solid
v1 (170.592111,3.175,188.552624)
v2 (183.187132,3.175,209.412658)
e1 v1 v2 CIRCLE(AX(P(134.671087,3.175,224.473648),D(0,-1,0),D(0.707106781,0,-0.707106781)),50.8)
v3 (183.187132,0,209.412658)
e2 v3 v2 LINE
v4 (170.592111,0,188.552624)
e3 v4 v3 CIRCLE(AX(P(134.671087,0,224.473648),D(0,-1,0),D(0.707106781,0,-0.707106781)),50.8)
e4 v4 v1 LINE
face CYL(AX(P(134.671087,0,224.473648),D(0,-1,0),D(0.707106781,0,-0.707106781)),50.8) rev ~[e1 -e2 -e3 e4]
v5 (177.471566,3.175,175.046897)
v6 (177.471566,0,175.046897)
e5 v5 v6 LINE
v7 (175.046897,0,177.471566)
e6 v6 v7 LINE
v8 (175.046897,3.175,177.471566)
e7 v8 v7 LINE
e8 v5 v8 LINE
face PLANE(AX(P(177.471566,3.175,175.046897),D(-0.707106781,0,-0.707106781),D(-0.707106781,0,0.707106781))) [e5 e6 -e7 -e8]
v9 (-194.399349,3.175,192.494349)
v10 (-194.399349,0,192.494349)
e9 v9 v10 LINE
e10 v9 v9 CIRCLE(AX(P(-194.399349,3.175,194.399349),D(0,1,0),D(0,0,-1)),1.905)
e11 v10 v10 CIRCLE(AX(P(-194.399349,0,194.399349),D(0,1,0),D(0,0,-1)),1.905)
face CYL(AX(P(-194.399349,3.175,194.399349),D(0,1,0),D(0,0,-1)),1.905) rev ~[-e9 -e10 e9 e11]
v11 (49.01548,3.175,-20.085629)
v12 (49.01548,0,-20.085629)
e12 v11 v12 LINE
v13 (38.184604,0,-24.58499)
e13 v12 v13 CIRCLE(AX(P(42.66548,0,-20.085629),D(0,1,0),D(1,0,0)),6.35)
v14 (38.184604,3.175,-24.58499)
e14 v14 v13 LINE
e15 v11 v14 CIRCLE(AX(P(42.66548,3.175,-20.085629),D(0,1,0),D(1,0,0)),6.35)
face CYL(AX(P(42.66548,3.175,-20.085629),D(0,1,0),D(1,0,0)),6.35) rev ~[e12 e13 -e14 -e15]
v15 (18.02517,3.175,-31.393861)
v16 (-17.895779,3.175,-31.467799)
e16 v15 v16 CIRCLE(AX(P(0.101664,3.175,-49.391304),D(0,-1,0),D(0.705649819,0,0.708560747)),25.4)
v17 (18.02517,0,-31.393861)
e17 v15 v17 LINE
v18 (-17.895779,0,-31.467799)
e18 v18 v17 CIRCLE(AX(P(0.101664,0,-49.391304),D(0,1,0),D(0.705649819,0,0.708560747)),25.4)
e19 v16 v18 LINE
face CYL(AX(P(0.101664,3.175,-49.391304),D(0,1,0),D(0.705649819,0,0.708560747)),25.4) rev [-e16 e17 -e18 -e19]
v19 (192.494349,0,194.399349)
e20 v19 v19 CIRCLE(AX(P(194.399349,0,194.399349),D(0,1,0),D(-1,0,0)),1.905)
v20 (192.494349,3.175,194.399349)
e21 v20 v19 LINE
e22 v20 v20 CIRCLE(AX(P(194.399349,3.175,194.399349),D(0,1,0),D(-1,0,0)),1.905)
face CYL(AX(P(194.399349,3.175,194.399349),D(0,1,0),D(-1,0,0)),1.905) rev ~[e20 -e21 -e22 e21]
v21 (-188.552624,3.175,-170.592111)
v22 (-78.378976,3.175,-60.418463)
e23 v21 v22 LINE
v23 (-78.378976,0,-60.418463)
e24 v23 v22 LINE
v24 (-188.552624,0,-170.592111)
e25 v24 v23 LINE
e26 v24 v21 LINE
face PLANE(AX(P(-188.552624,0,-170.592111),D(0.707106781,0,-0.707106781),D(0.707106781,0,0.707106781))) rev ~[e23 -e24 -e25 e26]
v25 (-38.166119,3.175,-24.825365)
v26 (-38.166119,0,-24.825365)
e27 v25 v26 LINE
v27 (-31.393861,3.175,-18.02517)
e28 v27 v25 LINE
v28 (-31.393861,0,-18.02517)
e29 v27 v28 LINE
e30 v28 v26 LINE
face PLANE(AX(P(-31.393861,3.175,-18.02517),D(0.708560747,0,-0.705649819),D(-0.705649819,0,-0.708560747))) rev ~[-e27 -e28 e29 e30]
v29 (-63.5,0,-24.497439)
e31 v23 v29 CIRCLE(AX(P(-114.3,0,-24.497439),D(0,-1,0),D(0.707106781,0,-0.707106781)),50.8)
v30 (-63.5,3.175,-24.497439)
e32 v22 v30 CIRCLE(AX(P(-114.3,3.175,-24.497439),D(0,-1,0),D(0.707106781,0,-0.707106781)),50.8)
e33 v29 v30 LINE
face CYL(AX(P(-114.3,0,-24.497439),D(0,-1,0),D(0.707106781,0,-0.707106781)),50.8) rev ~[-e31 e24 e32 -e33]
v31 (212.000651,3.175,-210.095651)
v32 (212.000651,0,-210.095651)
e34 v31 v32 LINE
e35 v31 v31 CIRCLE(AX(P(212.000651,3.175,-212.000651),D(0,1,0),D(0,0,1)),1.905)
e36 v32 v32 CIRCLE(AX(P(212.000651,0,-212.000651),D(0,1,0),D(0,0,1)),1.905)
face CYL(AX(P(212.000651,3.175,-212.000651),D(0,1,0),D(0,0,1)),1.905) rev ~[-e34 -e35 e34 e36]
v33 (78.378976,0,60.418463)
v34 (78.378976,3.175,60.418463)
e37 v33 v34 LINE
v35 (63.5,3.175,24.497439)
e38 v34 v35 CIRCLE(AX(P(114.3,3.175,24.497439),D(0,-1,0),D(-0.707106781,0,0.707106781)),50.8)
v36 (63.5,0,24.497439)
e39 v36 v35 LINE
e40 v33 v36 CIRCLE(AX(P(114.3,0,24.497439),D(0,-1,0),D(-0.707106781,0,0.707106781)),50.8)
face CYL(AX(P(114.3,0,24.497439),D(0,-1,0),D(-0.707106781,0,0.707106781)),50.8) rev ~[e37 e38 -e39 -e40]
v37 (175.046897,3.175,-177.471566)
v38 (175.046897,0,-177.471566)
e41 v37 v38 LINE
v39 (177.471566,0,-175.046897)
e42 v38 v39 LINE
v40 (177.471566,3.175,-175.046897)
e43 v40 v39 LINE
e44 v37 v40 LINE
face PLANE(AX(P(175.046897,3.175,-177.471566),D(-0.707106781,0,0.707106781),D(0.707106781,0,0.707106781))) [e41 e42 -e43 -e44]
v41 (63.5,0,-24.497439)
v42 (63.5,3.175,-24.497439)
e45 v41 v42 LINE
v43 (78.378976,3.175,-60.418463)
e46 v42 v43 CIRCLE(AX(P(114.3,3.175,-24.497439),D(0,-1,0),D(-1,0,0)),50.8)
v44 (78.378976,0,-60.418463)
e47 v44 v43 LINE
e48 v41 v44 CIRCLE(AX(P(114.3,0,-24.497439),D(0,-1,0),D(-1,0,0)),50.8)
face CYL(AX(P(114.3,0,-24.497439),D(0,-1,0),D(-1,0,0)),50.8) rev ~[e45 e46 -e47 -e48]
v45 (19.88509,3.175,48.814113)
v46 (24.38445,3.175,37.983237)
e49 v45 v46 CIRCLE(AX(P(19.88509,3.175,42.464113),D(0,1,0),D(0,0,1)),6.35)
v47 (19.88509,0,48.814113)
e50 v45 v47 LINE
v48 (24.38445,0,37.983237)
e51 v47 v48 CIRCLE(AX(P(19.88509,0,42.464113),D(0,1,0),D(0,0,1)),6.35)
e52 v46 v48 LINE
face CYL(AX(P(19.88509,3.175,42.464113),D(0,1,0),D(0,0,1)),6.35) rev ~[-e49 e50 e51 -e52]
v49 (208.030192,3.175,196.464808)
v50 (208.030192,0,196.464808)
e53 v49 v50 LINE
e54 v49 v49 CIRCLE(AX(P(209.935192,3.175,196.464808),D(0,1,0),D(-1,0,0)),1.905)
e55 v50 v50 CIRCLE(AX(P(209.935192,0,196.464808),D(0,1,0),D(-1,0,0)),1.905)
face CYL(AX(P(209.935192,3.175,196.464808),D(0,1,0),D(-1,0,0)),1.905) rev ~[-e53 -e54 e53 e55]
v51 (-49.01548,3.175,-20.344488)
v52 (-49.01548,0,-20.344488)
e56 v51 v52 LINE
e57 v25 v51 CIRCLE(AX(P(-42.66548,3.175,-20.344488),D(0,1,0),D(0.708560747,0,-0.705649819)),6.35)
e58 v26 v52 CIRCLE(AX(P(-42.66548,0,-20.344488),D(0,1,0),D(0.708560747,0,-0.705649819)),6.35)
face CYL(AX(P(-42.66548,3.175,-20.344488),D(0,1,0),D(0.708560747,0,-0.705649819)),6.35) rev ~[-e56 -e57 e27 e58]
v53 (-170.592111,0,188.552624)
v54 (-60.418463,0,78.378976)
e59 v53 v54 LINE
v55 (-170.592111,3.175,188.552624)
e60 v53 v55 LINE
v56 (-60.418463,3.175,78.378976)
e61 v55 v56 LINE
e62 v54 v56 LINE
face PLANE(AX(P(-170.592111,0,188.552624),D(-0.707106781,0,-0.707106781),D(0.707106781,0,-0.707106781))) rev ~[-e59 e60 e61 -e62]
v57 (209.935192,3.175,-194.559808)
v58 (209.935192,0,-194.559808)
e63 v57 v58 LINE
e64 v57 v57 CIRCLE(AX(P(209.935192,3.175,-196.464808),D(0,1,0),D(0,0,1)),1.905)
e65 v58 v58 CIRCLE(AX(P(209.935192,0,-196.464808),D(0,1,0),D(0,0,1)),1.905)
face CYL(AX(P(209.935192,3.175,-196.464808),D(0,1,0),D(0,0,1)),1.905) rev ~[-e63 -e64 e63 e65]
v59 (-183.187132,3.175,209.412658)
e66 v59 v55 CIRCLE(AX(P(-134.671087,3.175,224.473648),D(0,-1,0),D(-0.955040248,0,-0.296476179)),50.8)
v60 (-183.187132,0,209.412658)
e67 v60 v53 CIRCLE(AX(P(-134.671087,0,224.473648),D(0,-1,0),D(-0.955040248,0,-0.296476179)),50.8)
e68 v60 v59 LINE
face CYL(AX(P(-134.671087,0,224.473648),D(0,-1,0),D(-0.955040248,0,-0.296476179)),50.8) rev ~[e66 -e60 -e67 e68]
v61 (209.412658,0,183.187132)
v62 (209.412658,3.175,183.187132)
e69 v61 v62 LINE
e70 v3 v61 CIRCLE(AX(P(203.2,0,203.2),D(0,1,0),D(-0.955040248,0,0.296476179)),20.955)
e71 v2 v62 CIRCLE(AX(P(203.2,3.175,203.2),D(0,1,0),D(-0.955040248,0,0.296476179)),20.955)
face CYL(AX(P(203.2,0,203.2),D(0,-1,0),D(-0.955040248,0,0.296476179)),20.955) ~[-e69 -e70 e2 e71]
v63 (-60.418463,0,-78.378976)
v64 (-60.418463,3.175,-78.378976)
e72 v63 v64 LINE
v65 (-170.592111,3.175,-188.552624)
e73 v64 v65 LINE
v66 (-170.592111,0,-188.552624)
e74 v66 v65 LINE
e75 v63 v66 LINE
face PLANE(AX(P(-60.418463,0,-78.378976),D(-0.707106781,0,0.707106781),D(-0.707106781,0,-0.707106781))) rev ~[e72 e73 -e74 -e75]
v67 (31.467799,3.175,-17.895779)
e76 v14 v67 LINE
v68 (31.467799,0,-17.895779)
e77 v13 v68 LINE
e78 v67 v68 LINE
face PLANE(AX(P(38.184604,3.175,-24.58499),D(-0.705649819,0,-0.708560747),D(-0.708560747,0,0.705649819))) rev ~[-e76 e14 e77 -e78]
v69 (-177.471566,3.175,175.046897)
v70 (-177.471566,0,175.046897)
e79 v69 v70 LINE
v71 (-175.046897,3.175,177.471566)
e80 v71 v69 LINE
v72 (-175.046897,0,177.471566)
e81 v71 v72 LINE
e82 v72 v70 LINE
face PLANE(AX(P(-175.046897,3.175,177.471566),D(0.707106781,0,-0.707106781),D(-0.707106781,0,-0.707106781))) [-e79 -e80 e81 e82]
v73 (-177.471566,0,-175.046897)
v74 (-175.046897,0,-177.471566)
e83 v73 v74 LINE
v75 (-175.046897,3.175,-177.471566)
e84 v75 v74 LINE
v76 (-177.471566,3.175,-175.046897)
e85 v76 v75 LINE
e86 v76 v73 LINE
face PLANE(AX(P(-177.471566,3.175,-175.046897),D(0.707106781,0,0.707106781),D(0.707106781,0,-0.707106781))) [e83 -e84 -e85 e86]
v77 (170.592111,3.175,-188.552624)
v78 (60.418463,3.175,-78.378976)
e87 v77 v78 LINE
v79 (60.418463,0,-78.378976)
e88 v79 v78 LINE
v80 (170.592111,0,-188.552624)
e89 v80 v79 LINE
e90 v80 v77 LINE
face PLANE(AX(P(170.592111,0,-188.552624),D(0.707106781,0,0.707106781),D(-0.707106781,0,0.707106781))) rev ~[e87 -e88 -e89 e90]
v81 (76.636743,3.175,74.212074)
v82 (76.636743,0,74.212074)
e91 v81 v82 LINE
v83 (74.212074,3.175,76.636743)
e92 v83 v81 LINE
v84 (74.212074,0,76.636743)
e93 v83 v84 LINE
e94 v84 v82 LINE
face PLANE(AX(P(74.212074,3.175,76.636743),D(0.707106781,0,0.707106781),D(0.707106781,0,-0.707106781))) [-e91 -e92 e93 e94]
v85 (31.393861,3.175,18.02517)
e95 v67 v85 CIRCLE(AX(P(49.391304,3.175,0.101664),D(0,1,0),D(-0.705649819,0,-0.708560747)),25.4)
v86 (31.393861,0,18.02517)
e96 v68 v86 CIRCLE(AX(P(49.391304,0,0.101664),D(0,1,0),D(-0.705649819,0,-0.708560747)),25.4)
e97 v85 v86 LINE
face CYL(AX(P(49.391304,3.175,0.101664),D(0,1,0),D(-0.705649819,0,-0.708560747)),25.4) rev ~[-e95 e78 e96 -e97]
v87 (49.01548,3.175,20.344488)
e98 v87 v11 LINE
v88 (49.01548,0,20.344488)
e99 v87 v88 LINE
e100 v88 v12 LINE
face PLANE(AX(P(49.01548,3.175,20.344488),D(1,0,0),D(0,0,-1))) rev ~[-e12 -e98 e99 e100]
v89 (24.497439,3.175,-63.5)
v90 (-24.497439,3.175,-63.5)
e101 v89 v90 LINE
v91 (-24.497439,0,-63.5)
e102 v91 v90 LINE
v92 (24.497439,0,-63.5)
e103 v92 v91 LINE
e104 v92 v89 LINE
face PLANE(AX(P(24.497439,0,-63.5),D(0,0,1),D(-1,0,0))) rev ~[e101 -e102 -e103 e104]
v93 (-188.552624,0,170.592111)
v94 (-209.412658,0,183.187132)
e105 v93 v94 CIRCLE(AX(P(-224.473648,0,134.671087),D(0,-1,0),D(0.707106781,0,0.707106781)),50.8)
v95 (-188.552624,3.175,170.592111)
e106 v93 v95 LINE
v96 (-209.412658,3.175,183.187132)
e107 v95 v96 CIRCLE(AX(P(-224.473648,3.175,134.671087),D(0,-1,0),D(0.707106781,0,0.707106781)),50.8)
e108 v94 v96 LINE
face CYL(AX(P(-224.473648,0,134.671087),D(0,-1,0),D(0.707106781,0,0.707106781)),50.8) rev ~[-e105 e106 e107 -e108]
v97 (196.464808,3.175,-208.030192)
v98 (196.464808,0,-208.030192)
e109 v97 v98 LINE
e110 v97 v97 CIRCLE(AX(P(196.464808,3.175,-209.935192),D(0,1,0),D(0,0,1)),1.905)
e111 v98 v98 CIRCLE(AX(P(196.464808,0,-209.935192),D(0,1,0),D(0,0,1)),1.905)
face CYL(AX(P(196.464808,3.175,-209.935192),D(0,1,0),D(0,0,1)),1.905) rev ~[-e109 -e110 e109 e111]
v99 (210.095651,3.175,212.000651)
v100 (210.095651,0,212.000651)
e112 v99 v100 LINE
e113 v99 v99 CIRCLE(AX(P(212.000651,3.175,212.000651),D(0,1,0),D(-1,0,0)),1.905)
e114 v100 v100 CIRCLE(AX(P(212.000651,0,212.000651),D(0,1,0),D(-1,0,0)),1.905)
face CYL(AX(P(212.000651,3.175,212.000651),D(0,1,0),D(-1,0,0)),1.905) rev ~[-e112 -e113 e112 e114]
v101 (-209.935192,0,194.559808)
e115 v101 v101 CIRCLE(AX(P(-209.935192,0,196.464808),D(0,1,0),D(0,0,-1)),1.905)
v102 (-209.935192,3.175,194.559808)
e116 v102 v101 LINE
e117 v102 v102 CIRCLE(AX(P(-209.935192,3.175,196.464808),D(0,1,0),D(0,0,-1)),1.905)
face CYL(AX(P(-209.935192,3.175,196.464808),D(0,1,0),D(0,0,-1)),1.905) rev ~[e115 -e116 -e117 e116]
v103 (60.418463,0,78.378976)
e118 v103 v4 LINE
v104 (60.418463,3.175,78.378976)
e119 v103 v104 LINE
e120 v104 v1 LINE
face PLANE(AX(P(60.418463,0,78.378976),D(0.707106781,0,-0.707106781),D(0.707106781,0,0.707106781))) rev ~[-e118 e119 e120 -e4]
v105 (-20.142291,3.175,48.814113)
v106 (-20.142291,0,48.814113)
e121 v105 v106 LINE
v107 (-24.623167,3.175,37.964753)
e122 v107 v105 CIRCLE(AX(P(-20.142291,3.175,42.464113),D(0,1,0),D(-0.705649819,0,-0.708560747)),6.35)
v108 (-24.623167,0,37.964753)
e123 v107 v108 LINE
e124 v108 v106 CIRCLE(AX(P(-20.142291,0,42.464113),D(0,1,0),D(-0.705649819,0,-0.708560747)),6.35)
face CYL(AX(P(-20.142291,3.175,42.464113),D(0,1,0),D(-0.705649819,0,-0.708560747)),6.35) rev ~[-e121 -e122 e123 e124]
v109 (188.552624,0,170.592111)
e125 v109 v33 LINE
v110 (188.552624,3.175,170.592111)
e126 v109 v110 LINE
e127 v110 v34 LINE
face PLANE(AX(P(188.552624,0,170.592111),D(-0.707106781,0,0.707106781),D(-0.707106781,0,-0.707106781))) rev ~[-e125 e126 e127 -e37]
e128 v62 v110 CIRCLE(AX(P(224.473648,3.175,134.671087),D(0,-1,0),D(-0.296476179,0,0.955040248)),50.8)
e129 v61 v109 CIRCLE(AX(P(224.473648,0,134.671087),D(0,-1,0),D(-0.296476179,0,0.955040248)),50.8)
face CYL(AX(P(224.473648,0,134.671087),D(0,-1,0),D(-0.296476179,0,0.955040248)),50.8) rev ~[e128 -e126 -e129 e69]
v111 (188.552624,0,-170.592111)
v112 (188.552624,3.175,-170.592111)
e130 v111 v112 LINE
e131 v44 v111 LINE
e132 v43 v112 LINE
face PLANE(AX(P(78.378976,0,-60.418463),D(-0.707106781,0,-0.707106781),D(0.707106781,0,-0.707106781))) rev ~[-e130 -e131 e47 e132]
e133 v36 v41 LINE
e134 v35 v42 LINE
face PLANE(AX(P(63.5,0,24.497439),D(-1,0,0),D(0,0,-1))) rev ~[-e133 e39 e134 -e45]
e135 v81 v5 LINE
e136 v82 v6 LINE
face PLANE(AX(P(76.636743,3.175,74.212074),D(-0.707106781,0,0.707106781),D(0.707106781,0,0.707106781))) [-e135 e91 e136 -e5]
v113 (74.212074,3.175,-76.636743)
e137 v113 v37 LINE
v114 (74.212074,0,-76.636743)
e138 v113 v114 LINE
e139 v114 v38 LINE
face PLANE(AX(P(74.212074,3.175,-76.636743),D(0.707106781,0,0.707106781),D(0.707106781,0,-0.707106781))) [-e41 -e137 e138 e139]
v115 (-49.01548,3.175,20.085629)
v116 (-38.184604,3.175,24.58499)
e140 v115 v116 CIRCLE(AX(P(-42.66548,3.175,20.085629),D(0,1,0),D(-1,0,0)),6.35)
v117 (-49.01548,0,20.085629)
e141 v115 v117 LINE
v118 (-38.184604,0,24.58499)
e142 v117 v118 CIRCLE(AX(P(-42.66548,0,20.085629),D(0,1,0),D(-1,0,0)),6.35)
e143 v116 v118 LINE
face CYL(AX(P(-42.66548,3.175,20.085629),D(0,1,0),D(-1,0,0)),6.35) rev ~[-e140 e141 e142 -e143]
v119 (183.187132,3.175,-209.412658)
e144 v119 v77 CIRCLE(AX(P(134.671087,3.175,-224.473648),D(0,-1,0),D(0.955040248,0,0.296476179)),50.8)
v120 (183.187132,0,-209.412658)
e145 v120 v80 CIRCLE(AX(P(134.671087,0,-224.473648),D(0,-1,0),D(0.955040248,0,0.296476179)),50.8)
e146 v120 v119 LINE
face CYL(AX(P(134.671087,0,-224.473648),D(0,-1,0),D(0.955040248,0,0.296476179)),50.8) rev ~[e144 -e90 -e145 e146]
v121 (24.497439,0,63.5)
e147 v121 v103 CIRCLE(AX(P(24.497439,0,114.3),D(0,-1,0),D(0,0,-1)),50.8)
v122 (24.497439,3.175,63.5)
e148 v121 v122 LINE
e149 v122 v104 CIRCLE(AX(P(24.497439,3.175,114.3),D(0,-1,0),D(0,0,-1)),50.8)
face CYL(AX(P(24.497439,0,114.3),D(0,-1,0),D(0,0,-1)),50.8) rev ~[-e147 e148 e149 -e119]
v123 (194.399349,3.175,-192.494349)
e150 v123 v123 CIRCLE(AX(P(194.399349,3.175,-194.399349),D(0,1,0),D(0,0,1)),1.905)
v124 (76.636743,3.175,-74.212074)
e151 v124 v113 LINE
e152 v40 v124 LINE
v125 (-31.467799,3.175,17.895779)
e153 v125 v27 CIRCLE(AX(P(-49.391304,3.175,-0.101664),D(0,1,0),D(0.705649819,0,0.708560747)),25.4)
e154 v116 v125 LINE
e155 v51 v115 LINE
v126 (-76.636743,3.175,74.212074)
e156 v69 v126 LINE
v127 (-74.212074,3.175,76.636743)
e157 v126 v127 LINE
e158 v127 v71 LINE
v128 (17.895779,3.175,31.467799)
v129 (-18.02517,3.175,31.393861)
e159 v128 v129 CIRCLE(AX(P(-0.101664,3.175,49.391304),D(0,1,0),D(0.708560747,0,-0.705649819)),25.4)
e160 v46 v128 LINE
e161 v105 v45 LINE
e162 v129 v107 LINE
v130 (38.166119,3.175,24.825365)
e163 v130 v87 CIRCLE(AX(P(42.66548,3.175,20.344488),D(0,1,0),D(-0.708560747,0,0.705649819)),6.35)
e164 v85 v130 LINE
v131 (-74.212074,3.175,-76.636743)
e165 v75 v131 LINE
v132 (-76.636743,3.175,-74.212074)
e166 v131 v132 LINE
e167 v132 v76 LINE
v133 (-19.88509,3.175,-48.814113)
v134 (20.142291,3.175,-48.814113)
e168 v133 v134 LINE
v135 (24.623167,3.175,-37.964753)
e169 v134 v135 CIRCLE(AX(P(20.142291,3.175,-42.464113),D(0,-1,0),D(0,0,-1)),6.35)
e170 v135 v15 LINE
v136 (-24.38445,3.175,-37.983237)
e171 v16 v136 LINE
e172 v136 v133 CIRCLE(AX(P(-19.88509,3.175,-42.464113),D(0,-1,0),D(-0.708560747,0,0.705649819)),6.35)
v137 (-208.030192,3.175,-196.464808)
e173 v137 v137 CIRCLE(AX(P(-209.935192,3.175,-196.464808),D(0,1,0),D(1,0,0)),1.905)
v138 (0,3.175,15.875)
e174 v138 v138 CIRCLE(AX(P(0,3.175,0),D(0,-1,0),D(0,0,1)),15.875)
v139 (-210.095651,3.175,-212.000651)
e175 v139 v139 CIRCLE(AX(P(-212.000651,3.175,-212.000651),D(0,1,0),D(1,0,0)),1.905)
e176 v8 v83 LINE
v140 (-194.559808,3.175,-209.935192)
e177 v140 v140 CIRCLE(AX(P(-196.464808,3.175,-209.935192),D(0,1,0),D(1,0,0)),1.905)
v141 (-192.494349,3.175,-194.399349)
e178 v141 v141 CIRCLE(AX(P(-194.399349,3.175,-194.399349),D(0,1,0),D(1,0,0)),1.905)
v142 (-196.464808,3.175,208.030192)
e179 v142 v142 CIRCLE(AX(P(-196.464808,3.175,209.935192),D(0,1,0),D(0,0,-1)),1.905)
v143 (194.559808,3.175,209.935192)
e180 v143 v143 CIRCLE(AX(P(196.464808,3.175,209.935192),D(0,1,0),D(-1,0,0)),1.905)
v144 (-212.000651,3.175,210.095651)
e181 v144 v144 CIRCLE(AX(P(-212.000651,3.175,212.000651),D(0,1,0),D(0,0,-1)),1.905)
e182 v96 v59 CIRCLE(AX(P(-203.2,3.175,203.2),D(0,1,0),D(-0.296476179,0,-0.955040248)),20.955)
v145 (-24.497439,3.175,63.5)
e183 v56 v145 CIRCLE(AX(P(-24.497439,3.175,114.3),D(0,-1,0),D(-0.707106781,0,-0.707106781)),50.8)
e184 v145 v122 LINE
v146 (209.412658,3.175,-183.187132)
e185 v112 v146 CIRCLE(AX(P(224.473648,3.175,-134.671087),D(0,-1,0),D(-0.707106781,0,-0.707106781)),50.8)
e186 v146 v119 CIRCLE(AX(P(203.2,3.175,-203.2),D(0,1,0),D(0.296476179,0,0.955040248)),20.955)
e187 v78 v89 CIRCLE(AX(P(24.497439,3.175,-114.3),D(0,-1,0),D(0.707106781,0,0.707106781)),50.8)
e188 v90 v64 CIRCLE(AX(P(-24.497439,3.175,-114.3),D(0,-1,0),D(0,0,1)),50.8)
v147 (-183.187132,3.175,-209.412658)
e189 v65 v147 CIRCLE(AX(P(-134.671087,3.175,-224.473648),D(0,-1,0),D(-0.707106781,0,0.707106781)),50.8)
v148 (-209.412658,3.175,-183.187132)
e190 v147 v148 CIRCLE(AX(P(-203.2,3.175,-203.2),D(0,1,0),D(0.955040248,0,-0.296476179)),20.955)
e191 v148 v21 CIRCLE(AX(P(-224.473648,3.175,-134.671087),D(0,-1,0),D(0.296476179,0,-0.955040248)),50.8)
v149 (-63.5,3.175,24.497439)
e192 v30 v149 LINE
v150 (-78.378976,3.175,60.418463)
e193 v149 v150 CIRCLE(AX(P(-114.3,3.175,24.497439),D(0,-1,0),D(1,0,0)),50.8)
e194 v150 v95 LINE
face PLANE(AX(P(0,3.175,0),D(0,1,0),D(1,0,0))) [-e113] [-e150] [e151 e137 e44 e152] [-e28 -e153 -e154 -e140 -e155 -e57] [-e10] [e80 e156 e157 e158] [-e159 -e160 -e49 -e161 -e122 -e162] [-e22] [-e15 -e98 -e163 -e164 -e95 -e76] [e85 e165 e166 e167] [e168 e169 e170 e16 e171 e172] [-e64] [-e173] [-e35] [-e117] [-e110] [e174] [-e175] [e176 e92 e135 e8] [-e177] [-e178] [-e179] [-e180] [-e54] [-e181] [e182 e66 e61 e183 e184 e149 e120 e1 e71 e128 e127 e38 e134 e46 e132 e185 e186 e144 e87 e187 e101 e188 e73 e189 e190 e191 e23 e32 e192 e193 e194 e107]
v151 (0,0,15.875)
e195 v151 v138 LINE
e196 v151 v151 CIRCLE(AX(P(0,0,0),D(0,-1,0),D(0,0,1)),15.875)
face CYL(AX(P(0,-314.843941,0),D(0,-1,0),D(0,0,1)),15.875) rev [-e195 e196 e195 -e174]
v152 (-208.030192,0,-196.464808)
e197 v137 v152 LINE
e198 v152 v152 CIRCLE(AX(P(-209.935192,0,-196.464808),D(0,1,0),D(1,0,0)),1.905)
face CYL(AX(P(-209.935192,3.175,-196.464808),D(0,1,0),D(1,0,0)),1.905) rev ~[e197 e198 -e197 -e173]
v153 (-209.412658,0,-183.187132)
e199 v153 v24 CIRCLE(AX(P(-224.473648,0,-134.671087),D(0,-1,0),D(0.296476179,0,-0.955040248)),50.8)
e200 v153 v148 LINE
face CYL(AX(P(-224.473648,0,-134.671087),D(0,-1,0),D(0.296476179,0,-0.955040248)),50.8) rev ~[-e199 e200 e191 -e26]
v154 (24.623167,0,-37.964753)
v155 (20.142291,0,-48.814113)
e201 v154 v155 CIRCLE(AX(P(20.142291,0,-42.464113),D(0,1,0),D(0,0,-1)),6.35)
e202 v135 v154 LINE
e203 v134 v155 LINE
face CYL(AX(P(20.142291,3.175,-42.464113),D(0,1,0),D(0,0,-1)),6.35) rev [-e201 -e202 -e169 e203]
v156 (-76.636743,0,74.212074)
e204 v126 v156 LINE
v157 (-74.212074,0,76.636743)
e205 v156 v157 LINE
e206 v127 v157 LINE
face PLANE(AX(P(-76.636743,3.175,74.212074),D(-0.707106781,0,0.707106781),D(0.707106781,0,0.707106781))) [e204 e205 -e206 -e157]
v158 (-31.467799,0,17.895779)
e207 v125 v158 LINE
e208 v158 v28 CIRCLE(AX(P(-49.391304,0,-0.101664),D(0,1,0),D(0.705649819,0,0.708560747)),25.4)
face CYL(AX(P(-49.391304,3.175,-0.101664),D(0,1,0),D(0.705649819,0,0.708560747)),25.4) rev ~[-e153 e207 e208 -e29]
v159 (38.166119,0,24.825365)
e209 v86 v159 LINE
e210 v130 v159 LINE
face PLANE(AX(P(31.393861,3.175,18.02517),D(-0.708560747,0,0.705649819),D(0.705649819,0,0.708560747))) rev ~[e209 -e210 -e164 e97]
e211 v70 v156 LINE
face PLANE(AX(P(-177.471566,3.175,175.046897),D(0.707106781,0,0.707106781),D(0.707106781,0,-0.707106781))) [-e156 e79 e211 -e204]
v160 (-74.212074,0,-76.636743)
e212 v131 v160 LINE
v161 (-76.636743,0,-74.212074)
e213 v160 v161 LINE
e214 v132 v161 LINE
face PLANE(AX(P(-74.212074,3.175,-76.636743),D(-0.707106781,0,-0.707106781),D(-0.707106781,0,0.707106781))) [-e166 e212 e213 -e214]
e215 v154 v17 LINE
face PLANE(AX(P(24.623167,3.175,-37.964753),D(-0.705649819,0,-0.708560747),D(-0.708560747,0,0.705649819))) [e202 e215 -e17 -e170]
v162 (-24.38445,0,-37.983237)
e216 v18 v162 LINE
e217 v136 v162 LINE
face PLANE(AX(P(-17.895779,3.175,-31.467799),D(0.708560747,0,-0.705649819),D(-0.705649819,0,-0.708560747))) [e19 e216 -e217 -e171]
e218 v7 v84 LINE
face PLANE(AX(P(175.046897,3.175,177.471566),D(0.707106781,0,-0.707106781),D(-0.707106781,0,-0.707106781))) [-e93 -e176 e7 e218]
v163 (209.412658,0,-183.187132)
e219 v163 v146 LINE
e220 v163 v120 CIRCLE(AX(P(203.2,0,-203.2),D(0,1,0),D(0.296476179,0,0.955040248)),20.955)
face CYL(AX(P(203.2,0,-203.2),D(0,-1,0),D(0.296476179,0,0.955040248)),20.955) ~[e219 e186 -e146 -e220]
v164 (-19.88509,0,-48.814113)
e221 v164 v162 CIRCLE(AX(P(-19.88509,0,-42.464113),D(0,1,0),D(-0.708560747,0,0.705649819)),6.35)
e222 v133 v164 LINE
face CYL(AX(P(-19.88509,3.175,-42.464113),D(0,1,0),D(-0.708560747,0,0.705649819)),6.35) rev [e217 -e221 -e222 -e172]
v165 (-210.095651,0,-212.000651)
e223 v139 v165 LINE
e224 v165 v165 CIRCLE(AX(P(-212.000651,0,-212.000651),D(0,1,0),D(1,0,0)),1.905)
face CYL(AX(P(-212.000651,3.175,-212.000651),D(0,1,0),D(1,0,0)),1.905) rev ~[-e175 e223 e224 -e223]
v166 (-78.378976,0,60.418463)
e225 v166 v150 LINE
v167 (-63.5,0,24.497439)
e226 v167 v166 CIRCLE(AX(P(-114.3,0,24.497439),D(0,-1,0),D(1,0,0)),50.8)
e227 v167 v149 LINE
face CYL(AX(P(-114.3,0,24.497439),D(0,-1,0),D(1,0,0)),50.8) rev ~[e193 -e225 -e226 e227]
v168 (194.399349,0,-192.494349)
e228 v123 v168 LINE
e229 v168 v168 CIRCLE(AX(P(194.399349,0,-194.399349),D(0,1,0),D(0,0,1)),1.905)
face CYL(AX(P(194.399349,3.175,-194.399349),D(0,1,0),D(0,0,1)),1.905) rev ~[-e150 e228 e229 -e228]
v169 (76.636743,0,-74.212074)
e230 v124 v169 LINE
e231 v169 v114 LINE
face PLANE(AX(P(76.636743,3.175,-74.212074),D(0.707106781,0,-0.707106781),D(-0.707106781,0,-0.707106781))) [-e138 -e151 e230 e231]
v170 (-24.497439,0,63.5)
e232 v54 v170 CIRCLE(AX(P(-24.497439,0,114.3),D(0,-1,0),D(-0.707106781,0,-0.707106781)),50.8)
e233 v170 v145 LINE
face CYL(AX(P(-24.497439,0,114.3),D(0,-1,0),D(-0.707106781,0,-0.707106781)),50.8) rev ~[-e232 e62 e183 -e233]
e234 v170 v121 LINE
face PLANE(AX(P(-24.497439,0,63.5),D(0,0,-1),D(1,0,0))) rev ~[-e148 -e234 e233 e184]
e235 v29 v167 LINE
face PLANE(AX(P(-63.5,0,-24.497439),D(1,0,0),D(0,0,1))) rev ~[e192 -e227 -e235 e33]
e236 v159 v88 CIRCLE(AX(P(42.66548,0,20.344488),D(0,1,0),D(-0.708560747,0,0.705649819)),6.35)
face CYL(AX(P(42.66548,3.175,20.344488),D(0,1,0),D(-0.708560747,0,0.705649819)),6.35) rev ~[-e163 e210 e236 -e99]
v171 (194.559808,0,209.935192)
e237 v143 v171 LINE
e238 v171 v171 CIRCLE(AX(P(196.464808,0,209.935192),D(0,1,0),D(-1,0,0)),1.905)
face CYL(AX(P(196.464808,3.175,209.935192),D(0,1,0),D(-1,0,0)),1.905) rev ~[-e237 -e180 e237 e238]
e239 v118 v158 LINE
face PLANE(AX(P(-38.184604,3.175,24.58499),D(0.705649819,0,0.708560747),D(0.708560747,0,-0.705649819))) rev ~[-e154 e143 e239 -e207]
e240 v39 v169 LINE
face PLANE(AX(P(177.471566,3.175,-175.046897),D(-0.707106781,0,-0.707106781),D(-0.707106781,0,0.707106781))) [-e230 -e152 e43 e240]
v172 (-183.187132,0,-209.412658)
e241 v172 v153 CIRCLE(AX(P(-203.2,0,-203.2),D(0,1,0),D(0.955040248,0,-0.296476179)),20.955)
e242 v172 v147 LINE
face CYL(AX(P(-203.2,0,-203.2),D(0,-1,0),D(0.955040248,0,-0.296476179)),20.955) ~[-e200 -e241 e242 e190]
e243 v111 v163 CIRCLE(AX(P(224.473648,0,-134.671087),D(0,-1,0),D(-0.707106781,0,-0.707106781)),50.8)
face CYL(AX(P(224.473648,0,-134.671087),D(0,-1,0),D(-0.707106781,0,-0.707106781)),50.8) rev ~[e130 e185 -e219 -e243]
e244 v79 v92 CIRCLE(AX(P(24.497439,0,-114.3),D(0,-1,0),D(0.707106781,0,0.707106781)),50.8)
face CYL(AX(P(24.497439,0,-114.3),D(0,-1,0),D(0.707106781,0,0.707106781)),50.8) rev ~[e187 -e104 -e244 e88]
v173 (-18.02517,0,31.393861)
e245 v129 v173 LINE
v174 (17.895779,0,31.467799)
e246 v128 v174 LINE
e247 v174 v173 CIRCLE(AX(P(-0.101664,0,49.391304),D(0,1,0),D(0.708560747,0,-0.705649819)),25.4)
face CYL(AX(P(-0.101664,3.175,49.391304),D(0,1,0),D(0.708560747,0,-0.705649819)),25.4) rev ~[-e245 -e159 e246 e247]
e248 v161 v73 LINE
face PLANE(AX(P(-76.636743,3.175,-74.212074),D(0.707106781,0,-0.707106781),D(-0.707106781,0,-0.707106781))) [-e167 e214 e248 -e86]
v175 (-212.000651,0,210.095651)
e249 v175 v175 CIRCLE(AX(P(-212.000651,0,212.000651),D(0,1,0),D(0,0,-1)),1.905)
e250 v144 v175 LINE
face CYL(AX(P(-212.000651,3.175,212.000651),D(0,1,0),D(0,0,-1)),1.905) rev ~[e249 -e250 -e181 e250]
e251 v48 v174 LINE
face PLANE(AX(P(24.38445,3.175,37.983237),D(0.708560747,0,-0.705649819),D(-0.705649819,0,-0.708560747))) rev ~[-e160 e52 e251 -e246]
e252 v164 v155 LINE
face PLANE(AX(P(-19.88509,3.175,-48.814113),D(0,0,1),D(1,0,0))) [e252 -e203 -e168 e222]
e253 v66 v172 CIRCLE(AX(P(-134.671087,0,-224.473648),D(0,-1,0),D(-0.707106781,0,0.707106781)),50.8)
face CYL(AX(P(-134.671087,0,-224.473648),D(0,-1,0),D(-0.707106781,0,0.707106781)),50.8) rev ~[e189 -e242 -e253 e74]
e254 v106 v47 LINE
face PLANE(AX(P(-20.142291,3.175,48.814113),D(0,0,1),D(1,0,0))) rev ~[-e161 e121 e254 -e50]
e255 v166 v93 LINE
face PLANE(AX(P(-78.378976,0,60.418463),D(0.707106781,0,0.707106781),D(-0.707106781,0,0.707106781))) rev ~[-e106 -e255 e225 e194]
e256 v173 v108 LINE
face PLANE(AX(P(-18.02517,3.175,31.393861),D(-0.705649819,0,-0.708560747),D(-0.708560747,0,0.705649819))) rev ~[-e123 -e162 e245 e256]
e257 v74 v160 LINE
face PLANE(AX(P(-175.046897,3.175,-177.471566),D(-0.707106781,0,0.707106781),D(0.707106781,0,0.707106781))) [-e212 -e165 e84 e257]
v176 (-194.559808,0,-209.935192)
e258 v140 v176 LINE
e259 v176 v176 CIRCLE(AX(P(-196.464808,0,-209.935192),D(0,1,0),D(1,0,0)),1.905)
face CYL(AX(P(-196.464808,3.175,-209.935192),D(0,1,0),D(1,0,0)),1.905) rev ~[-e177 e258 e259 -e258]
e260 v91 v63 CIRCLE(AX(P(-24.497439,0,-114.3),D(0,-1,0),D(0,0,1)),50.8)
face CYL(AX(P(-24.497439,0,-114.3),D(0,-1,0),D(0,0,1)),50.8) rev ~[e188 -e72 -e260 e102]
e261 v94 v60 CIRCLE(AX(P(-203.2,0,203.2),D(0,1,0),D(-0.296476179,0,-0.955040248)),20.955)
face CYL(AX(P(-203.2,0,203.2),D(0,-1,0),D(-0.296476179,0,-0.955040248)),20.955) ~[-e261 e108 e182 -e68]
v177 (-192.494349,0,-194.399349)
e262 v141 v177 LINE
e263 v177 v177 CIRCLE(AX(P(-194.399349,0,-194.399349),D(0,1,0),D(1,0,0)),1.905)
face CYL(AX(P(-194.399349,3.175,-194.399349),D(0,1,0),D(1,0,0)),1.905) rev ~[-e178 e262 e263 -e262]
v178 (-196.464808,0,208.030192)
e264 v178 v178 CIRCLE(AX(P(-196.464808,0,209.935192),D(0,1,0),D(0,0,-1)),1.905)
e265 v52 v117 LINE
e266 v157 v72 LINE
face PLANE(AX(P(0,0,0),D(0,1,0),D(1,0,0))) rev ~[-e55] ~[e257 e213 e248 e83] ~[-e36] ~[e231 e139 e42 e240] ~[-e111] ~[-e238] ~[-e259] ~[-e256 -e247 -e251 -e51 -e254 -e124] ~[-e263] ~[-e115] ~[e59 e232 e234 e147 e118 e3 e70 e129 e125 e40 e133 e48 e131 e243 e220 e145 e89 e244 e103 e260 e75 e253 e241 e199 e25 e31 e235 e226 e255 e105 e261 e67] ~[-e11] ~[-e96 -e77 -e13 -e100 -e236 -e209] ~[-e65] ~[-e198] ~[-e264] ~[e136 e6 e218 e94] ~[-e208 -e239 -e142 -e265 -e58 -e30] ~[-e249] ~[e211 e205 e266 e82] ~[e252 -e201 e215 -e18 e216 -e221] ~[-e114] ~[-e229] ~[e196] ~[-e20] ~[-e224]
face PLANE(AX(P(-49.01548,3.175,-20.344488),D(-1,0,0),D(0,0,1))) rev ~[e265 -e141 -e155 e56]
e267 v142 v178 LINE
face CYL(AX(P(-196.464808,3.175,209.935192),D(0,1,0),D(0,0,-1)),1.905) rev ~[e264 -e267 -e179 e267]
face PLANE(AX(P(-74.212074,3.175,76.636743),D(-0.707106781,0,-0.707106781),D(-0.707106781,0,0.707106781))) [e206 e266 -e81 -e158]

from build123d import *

# Parameters (mm, degrees)
BOSS_EXTRUDE1_DEPTH     = 3.175
SKETCH4_R               = 1.905
CUT_EXTRUDE1_DEPTH      = 318.018940562
CIRPATTERN1_COUNT       = 4
CUT_EXTRUDE2_DEPTH      = 318.018940562
CUT_EXTRUDE4_DEPTH      = 318.018940562
CUT_EXTRUDE5_DEPTH      = 318.018940562
CUT_EXTRUDE5_DEPTH_BACK = 318.018940562
SKETCH9_R               = 15.875
CIRPATTERN2_COUNT       = 4


with BuildPart() as part:
    # Sketch3 → Boss-Extrude1 (new body)
    with BuildSketch(Plane(origin=(0, 0, 0), x_dir=(1, 0, 0), z_dir=(0, 1, 0))):
        with BuildLine():
            Line((-24.497438789, -63.5), (24.497438789, -63.5))
            ThreePointArc((24.497438789, -63.5), (43.937757153, -67.366919748), (60.418463274, -78.378975516))
            Line((60.418463274, -78.378975516), (170.592111486, -188.552623728))
            ThreePointArc((170.592111486, -188.552623728), (178.158900465, -198.21626677), (183.187131602, -209.412658327))
            ThreePointArc((183.187131602, -209.412658327), (218.0174226, -218.0174226), (209.412658327, -183.187131602))
            ThreePointArc((209.412658327, -183.187131602), (198.21626677, -178.158900465), (188.552623728, -170.592111486))
            Line((188.552623728, -170.592111486), (78.378975516, -60.418463274))
            ThreePointArc((78.378975516, -60.418463274), (67.366919748, -43.937757153), (63.5, -24.497438789))
            Line((63.5, -24.497438789), (63.5, 24.497438789))
            ThreePointArc((63.5, 24.497438789), (67.366919748, 43.937757153), (78.378975516, 60.418463274))
            Line((78.378975516, 60.418463274), (188.552623728, 170.592111486))
            ThreePointArc((188.552623728, 170.592111486), (198.21626677, 178.158900465), (209.412658327, 183.187131602))
            ThreePointArc((209.412658327, 183.187131602), (218.0174226, 218.0174226), (183.187131602, 209.412658327))
            ThreePointArc((183.187131602, 209.412658327), (178.158900465, 198.21626677), (170.592111486, 188.552623728))
            Line((170.592111486, 188.552623728), (60.418463274, 78.378975516))
            ThreePointArc((60.418463274, 78.378975516), (43.937757153, 67.366919748), (24.497438789, 63.5))
            Line((24.497438789, 63.5), (-24.497438789, 63.5))
            ThreePointArc((-24.497438789, 63.5), (-43.937757153, 67.366919748), (-60.418463274, 78.378975516))
            Line((-60.418463274, 78.378975516), (-170.592111486, 188.552623728))
            ThreePointArc((-170.592111486, 188.552623728), (-178.158900465, 198.21626677), (-183.187131602, 209.412658327))
            ThreePointArc((-183.187131602, 209.412658327), (-218.0174226, 218.0174226), (-209.412658327, 183.187131602))
            ThreePointArc((-209.412658327, 183.187131602), (-198.21626677, 178.158900465), (-188.552623728, 170.592111486))
            Line((-188.552623728, 170.592111486), (-78.378975516, 60.418463274))
            ThreePointArc((-78.378975516, 60.418463274), (-67.366919748, 43.937757153), (-63.5, 24.497438789))
            Line((-63.5, 24.497438789), (-63.5, -24.497438789))
            ThreePointArc((-63.5, -24.497438789), (-67.366919748, -43.937757153), (-78.378975516, -60.418463274))
            Line((-78.378975516, -60.418463274), (-188.552623728, -170.592111486))
            ThreePointArc((-188.552623728, -170.592111486), (-198.21626677, -178.158900465), (-209.412658327, -183.187131602))
            ThreePointArc((-209.412658327, -183.187131602), (-218.0174226, -218.0174226), (-183.187131602, -209.412658327))
            ThreePointArc((-183.187131602, -209.412658327), (-178.158900465, -198.21626677), (-170.592111486, -188.552623728))
            Line((-170.592111486, -188.552623728), (-60.418463274, -78.378975516))
            ThreePointArc((-60.418463274, -78.378975516), (-43.937757153, -67.366919748), (-24.497438789, -63.5))
        make_face()
    extrude(amount=BOSS_EXTRUDE1_DEPTH)

    # Sketch4 → Cut-Extrude1 (cut, through all)
    with BuildSketch(Plane(origin=(0, 3.175, 0), x_dir=(1, 0, 0), z_dir=(0, 1, 0))):
        with Locations((194.399349001, 194.399349001)):
            Circle(SKETCH4_R)
        with Locations((209.935192091, 196.464807909)):
            Circle(SKETCH4_R)
        with Locations((212.000650999, 212.000650999)):
            Circle(SKETCH4_R)
        with Locations((196.464807909, 209.935192091)):
            Circle(SKETCH4_R)
    cut_extrude1 = extrude(amount=-CUT_EXTRUDE1_DEPTH, mode=Mode.SUBTRACT)

    # CirPattern1: Cut-Extrude1 ×4 about axis
    cirpattern1_axis = Axis((0, 5.000625, 0), (0, -1, 0))
    for i in range(1, CIRPATTERN1_COUNT):
        add(cut_extrude1.rotate(cirpattern1_axis, i * 360 / CIRPATTERN1_COUNT), mode=Mode.SUBTRACT)

    # Sketch5 → Cut-Extrude2 (cut, through all)
    with BuildSketch(Plane(origin=(0, 3.175, 0), x_dir=(1, 0, 0), z_dir=(0, 1, 0))):
        Polygon((74.212074237, 76.63674339), (175.04689706, 177.471566213), (177.471566213, 175.04689706), (76.63674339, 74.212074237), align=None)
    cut_extrude2 = extrude(amount=-CUT_EXTRUDE2_DEPTH, mode=Mode.SUBTRACT)

    # Sketch8 → Cut-Extrude4 (cut, through all)
    with BuildSketch(Plane(origin=(0, 3.175, 0), x_dir=(1, 0, 0), z_dir=(0, 1, 0))):
        with BuildLine():
            Line((-38.184603855, -24.584989879), (-31.467798631, -17.895778814))
            ThreePointArc((-31.467798631, -17.895778814), (-23.991357843, 0.049382407), (-31.393861052, 18.025169576))
            Line((-31.393861052, 18.025169576), (-38.16611946, 24.825364729))
            ThreePointArc((-38.16611946, 24.825364729), (-45.089480956, 26.213621224), (-49.015480206, 20.344488378))
            Line((-49.015480206, 20.344488378), (-49.015480206, -20.085629132))
            ThreePointArc((-49.015480206, -20.085629132), (-45.101556475, -25.949760135), (-38.184603855, -24.584989879))
        make_face()
        with BuildLine():
            Line((-20.142290993, -48.814113494), (19.88508968, -48.814113494))
            ThreePointArc((19.88508968, -48.814113494), (25.749220683, -44.900189762), (24.384450426, -37.983237143))
            Line((24.384450426, -37.983237143), (17.895778814, -31.467798631))
            ThreePointArc((17.895778814, -31.467798631), (-0.049382407, -23.991357843), (-18.025169576, -31.393861052))
            Line((-18.025169576, -31.393861052), (-24.623167344, -37.964752748))
            ThreePointArc((-24.623167344, -37.964752748), (-26.011423839, -44.888114243), (-20.142290993, -48.814113494))
        make_face()
        with BuildLine():
            Line((-19.88508968, 48.814113494), (20.142290993, 48.814113494))
            ThreePointArc((20.142290993, 48.814113494), (26.011423839, 44.888114243), (24.623167344, 37.964752748))
            Line((24.623167344, 37.964752748), (18.025169576, 31.393861052))
            ThreePointArc((18.025169576, 31.393861052), (0.049382407, 23.991357843), (-17.895778814, 31.467798631))
            Line((-17.895778814, 31.467798631), (-24.384450426, 37.983237143))
            ThreePointArc((-24.384450426, 37.983237143), (-25.749220683, 44.900189762), (-19.88508968, 48.814113494))
        make_face()
        with BuildLine():
            Line((49.015480206, -20.344488378), (49.015480206, 20.085629132))
            ThreePointArc((49.015480206, 20.085629132), (45.101556475, 25.949760135), (38.184603855, 24.584989879))
            Line((38.184603855, 24.584989879), (31.467798631, 17.895778814))
            ThreePointArc((31.467798631, 17.895778814), (23.991357843, -0.049382407), (31.393861052, -18.025169576))
            Line((31.393861052, -18.025169576), (38.16611946, -24.825364729))
            ThreePointArc((38.16611946, -24.825364729), (45.089480956, -26.213621224), (49.015480206, -20.344488378))
        make_face()
    extrude(amount=-CUT_EXTRUDE4_DEPTH, mode=Mode.SUBTRACT)

    # Sketch9 → Cut-Extrude5 (cut, two sides: drawn at the far end of the back side and taken through both)
    with BuildSketch(Plane(origin=(0, 3.175, 0), x_dir=(1, 0, 0), z_dir=(0, 1, 0)).offset(-CUT_EXTRUDE5_DEPTH_BACK)):
        Circle(SKETCH9_R)
    extrude(amount=CUT_EXTRUDE5_DEPTH + CUT_EXTRUDE5_DEPTH_BACK, mode=Mode.SUBTRACT)

    # CirPattern2: Cut-Extrude2 ×4 about axis
    cirpattern2_axis = Axis((0, 5.000625, 0), (0, -1, 0))
    for i in range(1, CIRPATTERN2_COUNT):
        add(cut_extrude2.rotate(cirpattern2_axis, i * 360 / CIRPATTERN2_COUNT), mode=Mode.SUBTRACT)


solid = part.part
